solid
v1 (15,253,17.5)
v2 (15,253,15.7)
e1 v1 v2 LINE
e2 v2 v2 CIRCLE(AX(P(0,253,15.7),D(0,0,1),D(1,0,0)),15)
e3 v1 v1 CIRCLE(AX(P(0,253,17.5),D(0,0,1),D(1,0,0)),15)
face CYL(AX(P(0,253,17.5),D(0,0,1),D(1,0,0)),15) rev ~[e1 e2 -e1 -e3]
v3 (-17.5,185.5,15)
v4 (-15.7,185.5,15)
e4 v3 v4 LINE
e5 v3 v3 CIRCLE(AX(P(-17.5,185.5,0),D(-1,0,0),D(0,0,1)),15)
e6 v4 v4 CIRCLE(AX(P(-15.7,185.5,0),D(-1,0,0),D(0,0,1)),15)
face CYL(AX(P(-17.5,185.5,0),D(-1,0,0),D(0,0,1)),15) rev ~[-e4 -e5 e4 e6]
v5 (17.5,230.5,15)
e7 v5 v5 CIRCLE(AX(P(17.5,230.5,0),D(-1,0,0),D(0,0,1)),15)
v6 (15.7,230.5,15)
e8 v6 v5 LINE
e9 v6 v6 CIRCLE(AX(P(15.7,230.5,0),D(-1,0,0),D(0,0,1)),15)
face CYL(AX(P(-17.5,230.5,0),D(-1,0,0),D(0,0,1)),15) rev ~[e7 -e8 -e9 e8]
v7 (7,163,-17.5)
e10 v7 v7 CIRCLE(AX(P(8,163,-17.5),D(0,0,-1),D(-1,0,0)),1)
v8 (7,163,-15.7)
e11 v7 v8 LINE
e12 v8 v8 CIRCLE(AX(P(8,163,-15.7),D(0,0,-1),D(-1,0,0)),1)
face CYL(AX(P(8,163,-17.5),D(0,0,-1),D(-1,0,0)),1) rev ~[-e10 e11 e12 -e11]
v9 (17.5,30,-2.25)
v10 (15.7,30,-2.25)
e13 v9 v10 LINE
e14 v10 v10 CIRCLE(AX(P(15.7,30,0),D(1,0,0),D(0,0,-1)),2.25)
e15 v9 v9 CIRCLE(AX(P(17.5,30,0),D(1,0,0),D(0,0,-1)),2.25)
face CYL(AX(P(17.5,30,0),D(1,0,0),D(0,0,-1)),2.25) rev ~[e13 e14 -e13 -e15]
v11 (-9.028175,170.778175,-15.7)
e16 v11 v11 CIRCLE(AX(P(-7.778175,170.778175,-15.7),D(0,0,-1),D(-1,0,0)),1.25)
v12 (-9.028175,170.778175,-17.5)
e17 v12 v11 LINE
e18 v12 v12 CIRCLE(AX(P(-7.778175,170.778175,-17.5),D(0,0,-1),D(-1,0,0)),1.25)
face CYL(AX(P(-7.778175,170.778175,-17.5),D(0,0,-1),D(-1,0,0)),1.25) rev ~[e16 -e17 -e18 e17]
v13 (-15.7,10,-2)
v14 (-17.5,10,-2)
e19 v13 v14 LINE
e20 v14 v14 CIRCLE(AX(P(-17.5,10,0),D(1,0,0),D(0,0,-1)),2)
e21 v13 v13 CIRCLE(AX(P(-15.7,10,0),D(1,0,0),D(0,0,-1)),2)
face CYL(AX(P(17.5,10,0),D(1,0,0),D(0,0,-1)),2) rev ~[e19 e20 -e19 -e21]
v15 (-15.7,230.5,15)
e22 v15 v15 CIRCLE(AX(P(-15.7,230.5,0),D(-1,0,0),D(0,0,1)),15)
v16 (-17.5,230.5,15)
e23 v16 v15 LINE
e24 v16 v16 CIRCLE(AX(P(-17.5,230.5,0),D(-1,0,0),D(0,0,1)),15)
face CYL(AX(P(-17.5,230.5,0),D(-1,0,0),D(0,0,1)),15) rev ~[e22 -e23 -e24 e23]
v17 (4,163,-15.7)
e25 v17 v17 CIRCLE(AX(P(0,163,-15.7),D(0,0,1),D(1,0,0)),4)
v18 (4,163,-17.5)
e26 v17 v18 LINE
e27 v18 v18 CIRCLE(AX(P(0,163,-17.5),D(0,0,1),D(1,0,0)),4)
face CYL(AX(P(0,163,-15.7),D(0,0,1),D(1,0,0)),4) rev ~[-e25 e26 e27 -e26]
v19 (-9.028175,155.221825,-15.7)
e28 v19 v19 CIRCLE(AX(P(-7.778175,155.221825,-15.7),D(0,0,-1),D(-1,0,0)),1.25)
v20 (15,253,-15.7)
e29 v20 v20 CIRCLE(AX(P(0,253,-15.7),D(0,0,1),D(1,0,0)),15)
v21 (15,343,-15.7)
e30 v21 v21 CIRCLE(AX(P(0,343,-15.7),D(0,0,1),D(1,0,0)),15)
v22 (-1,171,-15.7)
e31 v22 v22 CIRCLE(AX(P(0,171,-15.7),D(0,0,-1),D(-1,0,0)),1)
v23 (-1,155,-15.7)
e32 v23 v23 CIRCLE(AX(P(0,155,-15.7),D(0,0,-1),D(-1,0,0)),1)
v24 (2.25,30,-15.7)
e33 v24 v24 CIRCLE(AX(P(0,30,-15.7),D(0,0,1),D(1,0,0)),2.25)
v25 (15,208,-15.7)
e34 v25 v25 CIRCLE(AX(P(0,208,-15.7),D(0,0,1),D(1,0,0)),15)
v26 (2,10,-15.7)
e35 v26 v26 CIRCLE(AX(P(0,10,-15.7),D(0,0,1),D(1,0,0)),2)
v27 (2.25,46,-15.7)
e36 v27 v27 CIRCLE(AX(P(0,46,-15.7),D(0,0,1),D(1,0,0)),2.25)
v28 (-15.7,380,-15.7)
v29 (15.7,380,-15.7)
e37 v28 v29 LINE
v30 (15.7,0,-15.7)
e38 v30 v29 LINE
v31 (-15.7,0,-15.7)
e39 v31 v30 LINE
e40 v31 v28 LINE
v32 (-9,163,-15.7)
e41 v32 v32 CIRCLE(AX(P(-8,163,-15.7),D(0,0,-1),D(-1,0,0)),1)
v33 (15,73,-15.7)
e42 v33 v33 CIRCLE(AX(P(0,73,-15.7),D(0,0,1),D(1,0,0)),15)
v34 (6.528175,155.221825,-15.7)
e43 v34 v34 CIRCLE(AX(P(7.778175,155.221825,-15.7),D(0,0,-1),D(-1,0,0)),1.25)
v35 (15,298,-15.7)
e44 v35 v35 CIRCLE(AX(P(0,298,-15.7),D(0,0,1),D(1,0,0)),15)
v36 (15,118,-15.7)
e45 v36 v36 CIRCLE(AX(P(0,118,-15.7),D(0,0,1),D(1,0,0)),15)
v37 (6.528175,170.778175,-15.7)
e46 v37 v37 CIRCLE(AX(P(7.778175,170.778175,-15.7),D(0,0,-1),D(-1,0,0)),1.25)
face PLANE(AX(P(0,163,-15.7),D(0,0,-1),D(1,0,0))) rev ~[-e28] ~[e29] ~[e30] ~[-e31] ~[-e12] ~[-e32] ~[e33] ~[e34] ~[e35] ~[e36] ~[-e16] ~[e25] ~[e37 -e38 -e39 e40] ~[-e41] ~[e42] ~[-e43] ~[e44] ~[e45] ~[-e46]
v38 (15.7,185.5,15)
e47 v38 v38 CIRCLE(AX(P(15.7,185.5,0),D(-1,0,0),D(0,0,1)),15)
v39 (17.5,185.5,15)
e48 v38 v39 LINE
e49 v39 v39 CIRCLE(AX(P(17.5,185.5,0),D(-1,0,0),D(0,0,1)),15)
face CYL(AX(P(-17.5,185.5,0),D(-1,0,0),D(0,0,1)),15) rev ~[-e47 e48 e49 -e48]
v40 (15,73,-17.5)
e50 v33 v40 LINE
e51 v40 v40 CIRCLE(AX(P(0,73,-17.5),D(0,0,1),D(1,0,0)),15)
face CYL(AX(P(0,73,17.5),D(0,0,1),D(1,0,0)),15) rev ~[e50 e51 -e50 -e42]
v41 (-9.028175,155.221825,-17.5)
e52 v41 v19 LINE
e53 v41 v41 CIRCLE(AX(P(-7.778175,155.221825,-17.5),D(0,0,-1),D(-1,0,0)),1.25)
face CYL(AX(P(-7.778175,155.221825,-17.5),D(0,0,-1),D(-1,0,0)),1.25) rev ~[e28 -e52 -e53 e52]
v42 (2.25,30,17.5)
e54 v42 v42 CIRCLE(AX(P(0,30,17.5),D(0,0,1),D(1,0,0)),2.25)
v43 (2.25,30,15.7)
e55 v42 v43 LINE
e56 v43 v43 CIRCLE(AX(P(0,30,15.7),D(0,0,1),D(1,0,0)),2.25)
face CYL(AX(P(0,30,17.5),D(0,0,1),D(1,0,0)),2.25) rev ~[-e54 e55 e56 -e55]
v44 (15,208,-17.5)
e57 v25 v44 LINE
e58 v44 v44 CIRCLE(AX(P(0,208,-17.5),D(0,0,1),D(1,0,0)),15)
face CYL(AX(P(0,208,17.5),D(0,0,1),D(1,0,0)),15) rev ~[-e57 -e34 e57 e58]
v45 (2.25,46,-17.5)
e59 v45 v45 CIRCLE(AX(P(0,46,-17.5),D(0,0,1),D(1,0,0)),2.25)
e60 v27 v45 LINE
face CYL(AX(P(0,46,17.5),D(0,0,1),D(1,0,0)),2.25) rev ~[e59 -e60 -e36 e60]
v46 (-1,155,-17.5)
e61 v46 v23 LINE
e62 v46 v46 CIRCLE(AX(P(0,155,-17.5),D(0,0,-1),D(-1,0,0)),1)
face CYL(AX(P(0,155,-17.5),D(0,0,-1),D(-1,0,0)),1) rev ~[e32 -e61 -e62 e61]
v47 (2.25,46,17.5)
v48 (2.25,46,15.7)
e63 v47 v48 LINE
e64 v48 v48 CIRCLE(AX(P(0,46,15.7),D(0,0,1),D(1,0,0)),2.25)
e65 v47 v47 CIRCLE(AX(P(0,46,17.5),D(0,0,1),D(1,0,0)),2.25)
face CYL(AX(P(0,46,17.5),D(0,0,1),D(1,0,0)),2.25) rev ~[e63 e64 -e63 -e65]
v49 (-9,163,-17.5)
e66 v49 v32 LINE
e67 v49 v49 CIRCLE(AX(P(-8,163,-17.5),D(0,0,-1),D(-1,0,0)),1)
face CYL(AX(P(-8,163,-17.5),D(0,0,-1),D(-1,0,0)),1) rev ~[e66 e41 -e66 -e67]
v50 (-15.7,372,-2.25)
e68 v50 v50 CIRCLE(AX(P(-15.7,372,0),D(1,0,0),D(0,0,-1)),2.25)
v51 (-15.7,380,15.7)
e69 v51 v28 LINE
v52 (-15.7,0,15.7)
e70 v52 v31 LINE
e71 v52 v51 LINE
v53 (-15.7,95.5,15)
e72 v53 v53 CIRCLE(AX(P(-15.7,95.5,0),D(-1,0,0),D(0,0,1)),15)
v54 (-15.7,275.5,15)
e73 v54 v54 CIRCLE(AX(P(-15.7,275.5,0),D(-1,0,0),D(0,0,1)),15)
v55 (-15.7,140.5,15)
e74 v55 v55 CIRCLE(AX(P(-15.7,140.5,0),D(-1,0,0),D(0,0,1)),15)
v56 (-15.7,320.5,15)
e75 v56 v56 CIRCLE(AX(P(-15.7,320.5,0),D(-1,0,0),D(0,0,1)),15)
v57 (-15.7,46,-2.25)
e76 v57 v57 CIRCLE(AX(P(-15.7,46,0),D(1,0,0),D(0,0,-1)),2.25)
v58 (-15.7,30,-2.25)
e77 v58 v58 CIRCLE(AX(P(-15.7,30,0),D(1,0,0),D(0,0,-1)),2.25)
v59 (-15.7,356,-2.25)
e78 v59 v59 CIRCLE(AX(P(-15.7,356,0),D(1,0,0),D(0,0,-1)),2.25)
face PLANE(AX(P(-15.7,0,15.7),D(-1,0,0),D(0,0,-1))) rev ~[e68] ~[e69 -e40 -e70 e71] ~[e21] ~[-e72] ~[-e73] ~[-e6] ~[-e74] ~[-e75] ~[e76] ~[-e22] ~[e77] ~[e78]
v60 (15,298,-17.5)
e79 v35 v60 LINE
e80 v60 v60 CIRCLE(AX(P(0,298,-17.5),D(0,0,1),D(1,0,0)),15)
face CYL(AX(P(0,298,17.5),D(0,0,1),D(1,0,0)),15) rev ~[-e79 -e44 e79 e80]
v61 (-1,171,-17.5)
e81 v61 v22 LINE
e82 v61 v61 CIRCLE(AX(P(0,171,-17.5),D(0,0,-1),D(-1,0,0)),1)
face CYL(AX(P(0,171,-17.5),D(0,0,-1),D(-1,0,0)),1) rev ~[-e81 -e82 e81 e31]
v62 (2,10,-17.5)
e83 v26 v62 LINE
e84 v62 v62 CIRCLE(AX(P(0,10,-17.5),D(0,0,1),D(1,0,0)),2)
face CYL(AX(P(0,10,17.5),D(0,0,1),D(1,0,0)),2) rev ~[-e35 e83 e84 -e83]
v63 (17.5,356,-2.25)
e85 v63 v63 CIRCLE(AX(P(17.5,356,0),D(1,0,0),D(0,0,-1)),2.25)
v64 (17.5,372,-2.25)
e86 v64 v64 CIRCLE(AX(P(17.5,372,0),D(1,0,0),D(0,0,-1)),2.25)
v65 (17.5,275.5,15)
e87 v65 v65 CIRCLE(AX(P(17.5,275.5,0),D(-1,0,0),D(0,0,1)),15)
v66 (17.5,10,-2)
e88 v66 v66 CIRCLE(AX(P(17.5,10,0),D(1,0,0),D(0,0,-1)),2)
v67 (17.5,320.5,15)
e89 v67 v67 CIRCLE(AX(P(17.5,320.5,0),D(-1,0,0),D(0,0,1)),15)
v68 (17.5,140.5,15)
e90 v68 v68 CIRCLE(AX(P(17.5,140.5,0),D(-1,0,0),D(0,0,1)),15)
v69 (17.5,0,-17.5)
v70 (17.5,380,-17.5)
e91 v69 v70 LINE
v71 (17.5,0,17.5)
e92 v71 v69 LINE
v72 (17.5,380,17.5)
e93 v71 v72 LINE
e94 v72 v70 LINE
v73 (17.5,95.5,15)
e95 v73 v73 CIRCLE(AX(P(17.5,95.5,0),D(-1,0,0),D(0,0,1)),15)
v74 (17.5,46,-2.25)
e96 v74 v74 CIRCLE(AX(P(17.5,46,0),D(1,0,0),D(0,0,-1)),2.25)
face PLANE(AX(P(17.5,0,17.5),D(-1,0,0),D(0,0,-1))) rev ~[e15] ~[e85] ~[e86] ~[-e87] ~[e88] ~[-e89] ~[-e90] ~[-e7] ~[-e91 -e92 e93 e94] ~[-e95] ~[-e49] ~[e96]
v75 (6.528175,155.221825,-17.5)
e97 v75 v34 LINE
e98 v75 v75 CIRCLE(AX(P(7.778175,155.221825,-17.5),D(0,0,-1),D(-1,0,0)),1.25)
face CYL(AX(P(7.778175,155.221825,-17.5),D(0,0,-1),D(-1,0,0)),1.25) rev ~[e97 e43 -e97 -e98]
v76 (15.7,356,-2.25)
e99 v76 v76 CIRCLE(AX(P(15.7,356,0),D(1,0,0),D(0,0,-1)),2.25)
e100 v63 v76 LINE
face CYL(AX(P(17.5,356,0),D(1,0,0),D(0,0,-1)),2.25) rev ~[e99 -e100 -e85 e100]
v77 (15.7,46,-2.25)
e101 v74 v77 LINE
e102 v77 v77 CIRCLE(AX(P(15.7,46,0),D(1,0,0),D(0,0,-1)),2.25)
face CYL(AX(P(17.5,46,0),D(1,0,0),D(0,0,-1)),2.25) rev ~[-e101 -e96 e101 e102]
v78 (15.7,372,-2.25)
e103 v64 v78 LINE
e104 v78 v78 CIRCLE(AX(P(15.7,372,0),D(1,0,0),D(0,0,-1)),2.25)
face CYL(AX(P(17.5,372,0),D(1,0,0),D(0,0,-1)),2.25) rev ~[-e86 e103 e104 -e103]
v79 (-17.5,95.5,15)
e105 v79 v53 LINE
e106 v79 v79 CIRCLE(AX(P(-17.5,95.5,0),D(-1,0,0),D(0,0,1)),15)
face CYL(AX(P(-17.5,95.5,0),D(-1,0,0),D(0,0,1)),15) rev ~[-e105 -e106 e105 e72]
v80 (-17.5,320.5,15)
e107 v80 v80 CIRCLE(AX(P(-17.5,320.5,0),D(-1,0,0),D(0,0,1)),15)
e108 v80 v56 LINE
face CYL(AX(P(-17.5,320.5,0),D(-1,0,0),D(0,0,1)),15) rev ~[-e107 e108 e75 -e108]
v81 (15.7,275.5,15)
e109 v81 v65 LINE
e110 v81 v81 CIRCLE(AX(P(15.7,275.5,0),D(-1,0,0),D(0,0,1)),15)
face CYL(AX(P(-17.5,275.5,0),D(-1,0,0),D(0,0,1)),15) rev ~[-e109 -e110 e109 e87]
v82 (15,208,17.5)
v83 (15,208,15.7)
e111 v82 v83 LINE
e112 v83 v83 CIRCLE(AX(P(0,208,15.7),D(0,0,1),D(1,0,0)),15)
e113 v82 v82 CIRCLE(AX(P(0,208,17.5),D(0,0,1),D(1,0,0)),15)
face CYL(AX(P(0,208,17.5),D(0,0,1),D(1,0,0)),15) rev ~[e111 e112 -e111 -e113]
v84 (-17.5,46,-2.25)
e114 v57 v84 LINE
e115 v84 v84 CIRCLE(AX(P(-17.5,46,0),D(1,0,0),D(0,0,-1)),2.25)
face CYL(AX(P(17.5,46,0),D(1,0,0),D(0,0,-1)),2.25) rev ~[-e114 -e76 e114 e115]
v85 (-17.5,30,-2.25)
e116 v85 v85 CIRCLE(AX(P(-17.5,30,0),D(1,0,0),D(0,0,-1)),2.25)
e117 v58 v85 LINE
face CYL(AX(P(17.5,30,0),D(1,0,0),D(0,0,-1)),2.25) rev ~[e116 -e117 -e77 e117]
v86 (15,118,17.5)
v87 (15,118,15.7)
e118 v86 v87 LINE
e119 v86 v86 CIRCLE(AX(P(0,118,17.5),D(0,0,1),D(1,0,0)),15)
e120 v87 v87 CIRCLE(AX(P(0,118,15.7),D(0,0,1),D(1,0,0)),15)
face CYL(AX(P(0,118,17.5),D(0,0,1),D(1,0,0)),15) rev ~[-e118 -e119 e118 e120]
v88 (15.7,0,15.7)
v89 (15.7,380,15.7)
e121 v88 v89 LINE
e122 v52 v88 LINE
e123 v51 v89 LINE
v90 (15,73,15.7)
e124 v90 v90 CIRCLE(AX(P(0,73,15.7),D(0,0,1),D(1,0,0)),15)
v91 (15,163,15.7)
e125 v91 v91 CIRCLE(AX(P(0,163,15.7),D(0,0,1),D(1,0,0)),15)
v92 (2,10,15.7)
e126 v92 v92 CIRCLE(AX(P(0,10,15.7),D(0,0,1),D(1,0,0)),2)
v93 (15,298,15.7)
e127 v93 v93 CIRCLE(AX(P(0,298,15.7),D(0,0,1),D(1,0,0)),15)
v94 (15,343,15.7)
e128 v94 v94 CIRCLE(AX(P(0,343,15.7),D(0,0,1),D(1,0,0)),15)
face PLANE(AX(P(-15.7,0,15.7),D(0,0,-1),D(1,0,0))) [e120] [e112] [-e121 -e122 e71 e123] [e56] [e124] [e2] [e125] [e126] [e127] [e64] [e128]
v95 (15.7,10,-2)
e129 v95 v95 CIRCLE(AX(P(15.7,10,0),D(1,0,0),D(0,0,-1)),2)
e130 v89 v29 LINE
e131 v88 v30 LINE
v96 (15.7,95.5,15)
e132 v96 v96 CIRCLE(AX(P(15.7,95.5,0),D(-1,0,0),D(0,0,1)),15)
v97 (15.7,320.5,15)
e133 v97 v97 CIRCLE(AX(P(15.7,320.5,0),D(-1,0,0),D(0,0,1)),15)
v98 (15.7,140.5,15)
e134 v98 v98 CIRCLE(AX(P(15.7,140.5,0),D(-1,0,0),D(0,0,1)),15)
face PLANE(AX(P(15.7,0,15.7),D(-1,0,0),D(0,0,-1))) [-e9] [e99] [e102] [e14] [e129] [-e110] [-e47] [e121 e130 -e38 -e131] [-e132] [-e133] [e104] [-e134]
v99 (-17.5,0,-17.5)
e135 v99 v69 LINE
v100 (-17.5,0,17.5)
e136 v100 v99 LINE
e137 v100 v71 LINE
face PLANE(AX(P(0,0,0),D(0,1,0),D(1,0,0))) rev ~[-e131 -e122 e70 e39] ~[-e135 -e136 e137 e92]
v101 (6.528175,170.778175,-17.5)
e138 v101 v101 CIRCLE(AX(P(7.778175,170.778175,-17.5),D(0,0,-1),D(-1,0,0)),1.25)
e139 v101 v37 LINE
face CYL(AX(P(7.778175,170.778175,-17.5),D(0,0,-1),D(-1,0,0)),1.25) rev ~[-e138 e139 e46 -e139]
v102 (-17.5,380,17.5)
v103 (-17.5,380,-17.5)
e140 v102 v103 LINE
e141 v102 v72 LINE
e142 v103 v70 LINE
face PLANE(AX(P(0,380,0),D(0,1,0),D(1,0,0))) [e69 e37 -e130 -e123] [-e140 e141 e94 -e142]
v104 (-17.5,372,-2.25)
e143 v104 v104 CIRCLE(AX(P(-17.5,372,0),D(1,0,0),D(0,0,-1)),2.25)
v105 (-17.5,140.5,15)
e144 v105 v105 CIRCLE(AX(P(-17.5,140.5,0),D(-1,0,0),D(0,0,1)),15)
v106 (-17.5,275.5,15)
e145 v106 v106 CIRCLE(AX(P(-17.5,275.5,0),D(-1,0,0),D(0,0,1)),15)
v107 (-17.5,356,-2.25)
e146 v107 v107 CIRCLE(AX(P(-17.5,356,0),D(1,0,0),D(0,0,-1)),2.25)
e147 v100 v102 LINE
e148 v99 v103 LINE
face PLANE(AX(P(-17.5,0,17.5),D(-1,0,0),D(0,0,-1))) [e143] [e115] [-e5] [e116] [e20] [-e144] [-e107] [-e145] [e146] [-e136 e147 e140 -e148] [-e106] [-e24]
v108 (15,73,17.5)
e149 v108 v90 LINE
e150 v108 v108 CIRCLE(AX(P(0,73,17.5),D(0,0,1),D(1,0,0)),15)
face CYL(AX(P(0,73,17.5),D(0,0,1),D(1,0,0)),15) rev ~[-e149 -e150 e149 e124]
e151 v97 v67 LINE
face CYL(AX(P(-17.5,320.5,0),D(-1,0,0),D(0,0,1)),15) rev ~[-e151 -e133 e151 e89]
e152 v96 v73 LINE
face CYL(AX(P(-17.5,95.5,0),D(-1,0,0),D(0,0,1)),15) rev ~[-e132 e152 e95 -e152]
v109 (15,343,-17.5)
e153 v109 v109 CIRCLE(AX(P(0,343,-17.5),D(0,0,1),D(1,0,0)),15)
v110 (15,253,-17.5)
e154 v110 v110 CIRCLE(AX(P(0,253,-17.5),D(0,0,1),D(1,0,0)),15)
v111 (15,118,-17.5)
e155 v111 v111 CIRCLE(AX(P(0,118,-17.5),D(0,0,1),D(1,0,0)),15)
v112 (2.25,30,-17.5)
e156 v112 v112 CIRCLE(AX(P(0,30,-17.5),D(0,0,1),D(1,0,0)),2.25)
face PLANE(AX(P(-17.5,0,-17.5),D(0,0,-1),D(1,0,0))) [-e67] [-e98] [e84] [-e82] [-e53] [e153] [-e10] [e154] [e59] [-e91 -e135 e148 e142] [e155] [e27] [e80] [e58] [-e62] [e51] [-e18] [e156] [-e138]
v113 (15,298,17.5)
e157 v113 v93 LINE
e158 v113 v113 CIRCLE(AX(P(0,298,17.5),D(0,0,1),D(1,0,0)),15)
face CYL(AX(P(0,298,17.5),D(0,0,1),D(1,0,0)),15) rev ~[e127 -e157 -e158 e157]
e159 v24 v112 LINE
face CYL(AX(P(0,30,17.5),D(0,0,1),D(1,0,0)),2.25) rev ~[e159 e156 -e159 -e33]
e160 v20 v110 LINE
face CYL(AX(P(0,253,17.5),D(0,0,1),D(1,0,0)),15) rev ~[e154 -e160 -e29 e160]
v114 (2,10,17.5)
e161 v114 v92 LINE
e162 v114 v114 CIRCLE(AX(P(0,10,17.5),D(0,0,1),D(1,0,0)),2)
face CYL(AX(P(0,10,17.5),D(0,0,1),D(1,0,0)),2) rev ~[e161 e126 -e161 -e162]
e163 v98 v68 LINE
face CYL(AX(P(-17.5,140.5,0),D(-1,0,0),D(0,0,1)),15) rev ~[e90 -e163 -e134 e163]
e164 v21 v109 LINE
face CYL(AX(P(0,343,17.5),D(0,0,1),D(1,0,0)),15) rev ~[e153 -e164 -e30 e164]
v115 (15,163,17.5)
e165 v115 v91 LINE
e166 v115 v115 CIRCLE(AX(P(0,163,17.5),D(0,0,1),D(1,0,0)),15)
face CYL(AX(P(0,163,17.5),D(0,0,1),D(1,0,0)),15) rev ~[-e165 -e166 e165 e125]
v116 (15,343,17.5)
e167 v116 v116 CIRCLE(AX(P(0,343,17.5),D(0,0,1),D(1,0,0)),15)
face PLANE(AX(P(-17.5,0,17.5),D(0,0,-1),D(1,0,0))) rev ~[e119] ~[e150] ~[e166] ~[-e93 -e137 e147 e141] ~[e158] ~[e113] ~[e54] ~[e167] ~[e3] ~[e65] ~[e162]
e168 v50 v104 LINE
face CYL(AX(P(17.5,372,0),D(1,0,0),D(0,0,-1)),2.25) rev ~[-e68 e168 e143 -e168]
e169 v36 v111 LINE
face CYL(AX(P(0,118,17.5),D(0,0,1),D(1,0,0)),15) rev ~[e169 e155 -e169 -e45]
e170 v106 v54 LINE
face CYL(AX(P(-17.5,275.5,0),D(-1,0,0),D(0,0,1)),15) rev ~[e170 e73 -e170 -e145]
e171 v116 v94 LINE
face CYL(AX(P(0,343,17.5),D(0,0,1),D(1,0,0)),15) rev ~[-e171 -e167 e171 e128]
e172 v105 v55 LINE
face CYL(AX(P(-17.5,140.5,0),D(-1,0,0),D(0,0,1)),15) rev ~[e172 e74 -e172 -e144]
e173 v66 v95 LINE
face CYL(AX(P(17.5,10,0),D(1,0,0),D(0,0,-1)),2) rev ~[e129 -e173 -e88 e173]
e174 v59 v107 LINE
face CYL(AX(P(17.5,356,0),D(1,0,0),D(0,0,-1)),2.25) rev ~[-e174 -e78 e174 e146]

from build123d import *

# Parameters (mm, degrees)
SKETCH1_W           = 35
SKETCH1_H           = 35
SKETCH1_W_2         = 31.4
SKETCH1_H_2         = 31.4
BOSS_EXTRUDE1_DEPTH = 380
SKETCH3_R           = 2
CUT_EXTRUDE1_DEPTH  = 383.009489411
SKETCH4_R           = 2
CUT_EXTRUDE2_DEPTH  = 383.009489411
SKETCH13_R          = 15
CUT_EXTRUDE10_DEPTH = 383.009489411
SKETCH14_R          = 2.25
CUT_EXTRUDE11_DEPTH = 383.009489411
LPATTERN1_COUNT     = 6
LPATTERN1_PITCH     = 45
SKETCH16_R          = 2.25
CUT_EXTRUDE13_DEPTH = 383.009489411
SKETCH17_R          = 15
CUT_EXTRUDE14_DEPTH = 383.009489411
LPATTERN2_COUNT     = 7
LPATTERN2_PITCH     = 45
BOSS_EXTRUDE2_START = -1.8
SKETCH18_R          = 15
BOSS_EXTRUDE2_DEPTH = 1.8
SKETCH19_R          = 4
CUT_EXTRUDE15_DEPTH = 382.848778969
CUT_EXTRUDE16_REACH = 384.009
SKETCH20_R          = 1
SKETCH20_R_2        = 1.25


with BuildPart() as part:
    # Sketch1 → Boss-Extrude1 (new body)
    with BuildSketch(Plane(origin=(0, 0, 0), x_dir=(1, 0, 0), z_dir=(0, 1, 0))):
        Rectangle(SKETCH1_W, SKETCH1_H)
        Rectangle(SKETCH1_W_2, SKETCH1_H_2, mode=Mode.SUBTRACT)
    extrude(amount=BOSS_EXTRUDE1_DEPTH)

    # Sketch3 → Cut-Extrude1 (cut, through all)
    with BuildSketch(Plane.XY.offset(17.5)):
        with Locations((0, 10)):
            Circle(SKETCH3_R)
    extrude(amount=-CUT_EXTRUDE1_DEPTH, mode=Mode.SUBTRACT)

    # Sketch4 → Cut-Extrude2 (cut, through all)
    with BuildSketch(Plane(origin=(17.5, 0, 0), x_dir=(0, 0, -1), z_dir=(1, 0, 0))):
        with Locations((0, 10)):
            Circle(SKETCH4_R)
    extrude(amount=-CUT_EXTRUDE2_DEPTH, mode=Mode.SUBTRACT)

    # Sketch13 → Cut-Extrude10 (cut, through all)
    with BuildSketch(Plane.ZY.offset(17.5)):
        with Locations((0, 95.5)):
            Circle(SKETCH13_R)
    cut_extrude10 = extrude(amount=-CUT_EXTRUDE10_DEPTH, mode=Mode.SUBTRACT)

    # Sketch14 → Cut-Extrude11 (cut, through all)
    with BuildSketch(Plane(origin=(17.5, 0, 0), x_dir=(0, 0, -1), z_dir=(1, 0, 0))):
        with Locations((0, 372)):
            Circle(SKETCH14_R)
        with Locations((0, 356)):
            Circle(SKETCH14_R)
        with Locations((0, 46)):
            Circle(SKETCH14_R)
        with Locations((0, 30)):
            Circle(SKETCH14_R)
    extrude(amount=-CUT_EXTRUDE11_DEPTH, mode=Mode.SUBTRACT)

    # LPattern1: Cut-Extrude10 ×6
    with Locations(*[(0, i * LPATTERN1_PITCH, 0) for i in range(1, LPATTERN1_COUNT)]):
        add(cut_extrude10, mode=Mode.SUBTRACT)

    # Sketch16 → Cut-Extrude13 (cut, through all)
    with BuildSketch(Plane.XY.offset(17.5)):
        with Locations((0, 46)):
            Circle(SKETCH16_R)
        with Locations((0, 30)):
            Circle(SKETCH16_R)
    extrude(amount=-CUT_EXTRUDE13_DEPTH, mode=Mode.SUBTRACT)

    # Sketch17 → Cut-Extrude14 (cut, through all)
    with BuildSketch(Plane.XY.offset(17.5)):
        with Locations((0, 73)):
            Circle(SKETCH17_R)
    cut_extrude14 = extrude(amount=-CUT_EXTRUDE14_DEPTH, mode=Mode.SUBTRACT)

    # LPattern2: Cut-Extrude14 ×7
    with Locations(*[(0, i * LPATTERN2_PITCH, 0) for i in range(1, LPATTERN2_COUNT)]):
        add(cut_extrude14, mode=Mode.SUBTRACT)

    # Sketch18 → Boss-Extrude2 (add)
    with BuildSketch(Plane(origin=(0, 0, -17.5), x_dir=(-1, 0, 0), z_dir=(0, 0, -1)).offset(BOSS_EXTRUDE2_START)):
        with Locations(Location((0, 163, 0), (0, 0, 180))):
            Circle(SKETCH18_R)
    extrude(amount=BOSS_EXTRUDE2_DEPTH)

    # Sketch19 → Cut-Extrude15 (cut, through all)
    with BuildSketch(Plane.XY.offset(-15.7)):
        with Locations((0, 163)):
            Circle(SKETCH19_R)
    extrude(amount=-CUT_EXTRUDE15_DEPTH, mode=Mode.SUBTRACT)

    # Sketch20 → Cut-Extrude16 (cut, up to next)
    with BuildSketch(Plane(origin=(0, 0, -17.5), x_dir=(-1, 0, 0), z_dir=(0, 0, -1)), mode=Mode.PRIVATE) as cut_extrude16_sk1:
        with Locations((0, 171)):
            Circle(SKETCH20_R)
    cut_extrude16_tool1 = extrude(cut_extrude16_sk1.sketch, amount=-CUT_EXTRUDE16_REACH, mode=Mode.PRIVATE) & part.part
    # Sketch20 → Cut-Extrude16 (cut, up to next)
    with BuildSketch(Plane(origin=(0, 0, -17.5), x_dir=(-1, 0, 0), z_dir=(0, 0, -1)), mode=Mode.PRIVATE) as cut_extrude16_sk2:
        with Locations((0, 155)):
            Circle(SKETCH20_R)
    cut_extrude16_tool2 = extrude(cut_extrude16_sk2.sketch, amount=-CUT_EXTRUDE16_REACH, mode=Mode.PRIVATE) & part.part
    # Sketch20 → Cut-Extrude16 (cut, up to next)
    with BuildSketch(Plane(origin=(0, 0, -17.5), x_dir=(-1, 0, 0), z_dir=(0, 0, -1)), mode=Mode.PRIVATE) as cut_extrude16_sk3:
        with Locations((8, 163)):
            Circle(SKETCH20_R)
    cut_extrude16_tool3 = extrude(cut_extrude16_sk3.sketch, amount=-CUT_EXTRUDE16_REACH, mode=Mode.PRIVATE) & part.part
    # Sketch20 → Cut-Extrude16 (cut, up to next)
    with BuildSketch(Plane(origin=(0, 0, -17.5), x_dir=(-1, 0, 0), z_dir=(0, 0, -1)), mode=Mode.PRIVATE) as cut_extrude16_sk4:
        with Locations((-8, 163)):
            Circle(SKETCH20_R)
    cut_extrude16_tool4 = extrude(cut_extrude16_sk4.sketch, amount=-CUT_EXTRUDE16_REACH, mode=Mode.PRIVATE) & part.part
    # Sketch20 → Cut-Extrude16 (cut, up to next)
    with BuildSketch(Plane(origin=(0, 0, -17.5), x_dir=(-1, 0, 0), z_dir=(0, 0, -1)), mode=Mode.PRIVATE) as cut_extrude16_sk5:
        with Locations((-7.778174593, 155.221825407)):
            Circle(SKETCH20_R_2)
    cut_extrude16_tool5 = extrude(cut_extrude16_sk5.sketch, amount=-CUT_EXTRUDE16_REACH, mode=Mode.PRIVATE) & part.part
    # Sketch20 → Cut-Extrude16 (cut, up to next)
    with BuildSketch(Plane(origin=(0, 0, -17.5), x_dir=(-1, 0, 0), z_dir=(0, 0, -1)), mode=Mode.PRIVATE) as cut_extrude16_sk6:
        with Locations((7.778174593, 155.221825407)):
            Circle(SKETCH20_R_2)
    cut_extrude16_tool6 = extrude(cut_extrude16_sk6.sketch, amount=-CUT_EXTRUDE16_REACH, mode=Mode.PRIVATE) & part.part
    # Sketch20 → Cut-Extrude16 (cut, up to next)
    with BuildSketch(Plane(origin=(0, 0, -17.5), x_dir=(-1, 0, 0), z_dir=(0, 0, -1)), mode=Mode.PRIVATE) as cut_extrude16_sk7:
        with Locations((7.778174593, 170.778174593)):
            Circle(SKETCH20_R_2)
    cut_extrude16_tool7 = extrude(cut_extrude16_sk7.sketch, amount=-CUT_EXTRUDE16_REACH, mode=Mode.PRIVATE) & part.part
    # Sketch20 → Cut-Extrude16 (cut, up to next)
    with BuildSketch(Plane(origin=(0, 0, -17.5), x_dir=(-1, 0, 0), z_dir=(0, 0, -1)), mode=Mode.PRIVATE) as cut_extrude16_sk8:
        with Locations((-7.778174593, 170.778174593)):
            Circle(SKETCH20_R_2)
    cut_extrude16_tool8 = extrude(cut_extrude16_sk8.sketch, amount=-CUT_EXTRUDE16_REACH, mode=Mode.PRIVATE) & part.part
    add(cut_extrude16_tool1.solids().sort_by_distance((0, 171, -17.5))[0], mode=Mode.SUBTRACT)
    add(cut_extrude16_tool2.solids().sort_by_distance((0, 155, -17.5))[0], mode=Mode.SUBTRACT)
    add(cut_extrude16_tool3.solids().sort_by_distance((-8, 163, -17.5))[0], mode=Mode.SUBTRACT)
    add(cut_extrude16_tool4.solids().sort_by_distance((8, 163, -17.5))[0], mode=Mode.SUBTRACT)
    add(cut_extrude16_tool5.solids().sort_by_distance((7.778175, 155.221825, -17.5))[0], mode=Mode.SUBTRACT)
    add(cut_extrude16_tool6.solids().sort_by_distance((-7.778175, 155.221825, -17.5))[0], mode=Mode.SUBTRACT)
    add(cut_extrude16_tool7.solids().sort_by_distance((-7.778175, 170.778175, -17.5))[0], mode=Mode.SUBTRACT)
    add(cut_extrude16_tool8.solids().sort_by_distance((7.778175, 170.778175, -17.5))[0], mode=Mode.SUBTRACT)


solid = part.part
